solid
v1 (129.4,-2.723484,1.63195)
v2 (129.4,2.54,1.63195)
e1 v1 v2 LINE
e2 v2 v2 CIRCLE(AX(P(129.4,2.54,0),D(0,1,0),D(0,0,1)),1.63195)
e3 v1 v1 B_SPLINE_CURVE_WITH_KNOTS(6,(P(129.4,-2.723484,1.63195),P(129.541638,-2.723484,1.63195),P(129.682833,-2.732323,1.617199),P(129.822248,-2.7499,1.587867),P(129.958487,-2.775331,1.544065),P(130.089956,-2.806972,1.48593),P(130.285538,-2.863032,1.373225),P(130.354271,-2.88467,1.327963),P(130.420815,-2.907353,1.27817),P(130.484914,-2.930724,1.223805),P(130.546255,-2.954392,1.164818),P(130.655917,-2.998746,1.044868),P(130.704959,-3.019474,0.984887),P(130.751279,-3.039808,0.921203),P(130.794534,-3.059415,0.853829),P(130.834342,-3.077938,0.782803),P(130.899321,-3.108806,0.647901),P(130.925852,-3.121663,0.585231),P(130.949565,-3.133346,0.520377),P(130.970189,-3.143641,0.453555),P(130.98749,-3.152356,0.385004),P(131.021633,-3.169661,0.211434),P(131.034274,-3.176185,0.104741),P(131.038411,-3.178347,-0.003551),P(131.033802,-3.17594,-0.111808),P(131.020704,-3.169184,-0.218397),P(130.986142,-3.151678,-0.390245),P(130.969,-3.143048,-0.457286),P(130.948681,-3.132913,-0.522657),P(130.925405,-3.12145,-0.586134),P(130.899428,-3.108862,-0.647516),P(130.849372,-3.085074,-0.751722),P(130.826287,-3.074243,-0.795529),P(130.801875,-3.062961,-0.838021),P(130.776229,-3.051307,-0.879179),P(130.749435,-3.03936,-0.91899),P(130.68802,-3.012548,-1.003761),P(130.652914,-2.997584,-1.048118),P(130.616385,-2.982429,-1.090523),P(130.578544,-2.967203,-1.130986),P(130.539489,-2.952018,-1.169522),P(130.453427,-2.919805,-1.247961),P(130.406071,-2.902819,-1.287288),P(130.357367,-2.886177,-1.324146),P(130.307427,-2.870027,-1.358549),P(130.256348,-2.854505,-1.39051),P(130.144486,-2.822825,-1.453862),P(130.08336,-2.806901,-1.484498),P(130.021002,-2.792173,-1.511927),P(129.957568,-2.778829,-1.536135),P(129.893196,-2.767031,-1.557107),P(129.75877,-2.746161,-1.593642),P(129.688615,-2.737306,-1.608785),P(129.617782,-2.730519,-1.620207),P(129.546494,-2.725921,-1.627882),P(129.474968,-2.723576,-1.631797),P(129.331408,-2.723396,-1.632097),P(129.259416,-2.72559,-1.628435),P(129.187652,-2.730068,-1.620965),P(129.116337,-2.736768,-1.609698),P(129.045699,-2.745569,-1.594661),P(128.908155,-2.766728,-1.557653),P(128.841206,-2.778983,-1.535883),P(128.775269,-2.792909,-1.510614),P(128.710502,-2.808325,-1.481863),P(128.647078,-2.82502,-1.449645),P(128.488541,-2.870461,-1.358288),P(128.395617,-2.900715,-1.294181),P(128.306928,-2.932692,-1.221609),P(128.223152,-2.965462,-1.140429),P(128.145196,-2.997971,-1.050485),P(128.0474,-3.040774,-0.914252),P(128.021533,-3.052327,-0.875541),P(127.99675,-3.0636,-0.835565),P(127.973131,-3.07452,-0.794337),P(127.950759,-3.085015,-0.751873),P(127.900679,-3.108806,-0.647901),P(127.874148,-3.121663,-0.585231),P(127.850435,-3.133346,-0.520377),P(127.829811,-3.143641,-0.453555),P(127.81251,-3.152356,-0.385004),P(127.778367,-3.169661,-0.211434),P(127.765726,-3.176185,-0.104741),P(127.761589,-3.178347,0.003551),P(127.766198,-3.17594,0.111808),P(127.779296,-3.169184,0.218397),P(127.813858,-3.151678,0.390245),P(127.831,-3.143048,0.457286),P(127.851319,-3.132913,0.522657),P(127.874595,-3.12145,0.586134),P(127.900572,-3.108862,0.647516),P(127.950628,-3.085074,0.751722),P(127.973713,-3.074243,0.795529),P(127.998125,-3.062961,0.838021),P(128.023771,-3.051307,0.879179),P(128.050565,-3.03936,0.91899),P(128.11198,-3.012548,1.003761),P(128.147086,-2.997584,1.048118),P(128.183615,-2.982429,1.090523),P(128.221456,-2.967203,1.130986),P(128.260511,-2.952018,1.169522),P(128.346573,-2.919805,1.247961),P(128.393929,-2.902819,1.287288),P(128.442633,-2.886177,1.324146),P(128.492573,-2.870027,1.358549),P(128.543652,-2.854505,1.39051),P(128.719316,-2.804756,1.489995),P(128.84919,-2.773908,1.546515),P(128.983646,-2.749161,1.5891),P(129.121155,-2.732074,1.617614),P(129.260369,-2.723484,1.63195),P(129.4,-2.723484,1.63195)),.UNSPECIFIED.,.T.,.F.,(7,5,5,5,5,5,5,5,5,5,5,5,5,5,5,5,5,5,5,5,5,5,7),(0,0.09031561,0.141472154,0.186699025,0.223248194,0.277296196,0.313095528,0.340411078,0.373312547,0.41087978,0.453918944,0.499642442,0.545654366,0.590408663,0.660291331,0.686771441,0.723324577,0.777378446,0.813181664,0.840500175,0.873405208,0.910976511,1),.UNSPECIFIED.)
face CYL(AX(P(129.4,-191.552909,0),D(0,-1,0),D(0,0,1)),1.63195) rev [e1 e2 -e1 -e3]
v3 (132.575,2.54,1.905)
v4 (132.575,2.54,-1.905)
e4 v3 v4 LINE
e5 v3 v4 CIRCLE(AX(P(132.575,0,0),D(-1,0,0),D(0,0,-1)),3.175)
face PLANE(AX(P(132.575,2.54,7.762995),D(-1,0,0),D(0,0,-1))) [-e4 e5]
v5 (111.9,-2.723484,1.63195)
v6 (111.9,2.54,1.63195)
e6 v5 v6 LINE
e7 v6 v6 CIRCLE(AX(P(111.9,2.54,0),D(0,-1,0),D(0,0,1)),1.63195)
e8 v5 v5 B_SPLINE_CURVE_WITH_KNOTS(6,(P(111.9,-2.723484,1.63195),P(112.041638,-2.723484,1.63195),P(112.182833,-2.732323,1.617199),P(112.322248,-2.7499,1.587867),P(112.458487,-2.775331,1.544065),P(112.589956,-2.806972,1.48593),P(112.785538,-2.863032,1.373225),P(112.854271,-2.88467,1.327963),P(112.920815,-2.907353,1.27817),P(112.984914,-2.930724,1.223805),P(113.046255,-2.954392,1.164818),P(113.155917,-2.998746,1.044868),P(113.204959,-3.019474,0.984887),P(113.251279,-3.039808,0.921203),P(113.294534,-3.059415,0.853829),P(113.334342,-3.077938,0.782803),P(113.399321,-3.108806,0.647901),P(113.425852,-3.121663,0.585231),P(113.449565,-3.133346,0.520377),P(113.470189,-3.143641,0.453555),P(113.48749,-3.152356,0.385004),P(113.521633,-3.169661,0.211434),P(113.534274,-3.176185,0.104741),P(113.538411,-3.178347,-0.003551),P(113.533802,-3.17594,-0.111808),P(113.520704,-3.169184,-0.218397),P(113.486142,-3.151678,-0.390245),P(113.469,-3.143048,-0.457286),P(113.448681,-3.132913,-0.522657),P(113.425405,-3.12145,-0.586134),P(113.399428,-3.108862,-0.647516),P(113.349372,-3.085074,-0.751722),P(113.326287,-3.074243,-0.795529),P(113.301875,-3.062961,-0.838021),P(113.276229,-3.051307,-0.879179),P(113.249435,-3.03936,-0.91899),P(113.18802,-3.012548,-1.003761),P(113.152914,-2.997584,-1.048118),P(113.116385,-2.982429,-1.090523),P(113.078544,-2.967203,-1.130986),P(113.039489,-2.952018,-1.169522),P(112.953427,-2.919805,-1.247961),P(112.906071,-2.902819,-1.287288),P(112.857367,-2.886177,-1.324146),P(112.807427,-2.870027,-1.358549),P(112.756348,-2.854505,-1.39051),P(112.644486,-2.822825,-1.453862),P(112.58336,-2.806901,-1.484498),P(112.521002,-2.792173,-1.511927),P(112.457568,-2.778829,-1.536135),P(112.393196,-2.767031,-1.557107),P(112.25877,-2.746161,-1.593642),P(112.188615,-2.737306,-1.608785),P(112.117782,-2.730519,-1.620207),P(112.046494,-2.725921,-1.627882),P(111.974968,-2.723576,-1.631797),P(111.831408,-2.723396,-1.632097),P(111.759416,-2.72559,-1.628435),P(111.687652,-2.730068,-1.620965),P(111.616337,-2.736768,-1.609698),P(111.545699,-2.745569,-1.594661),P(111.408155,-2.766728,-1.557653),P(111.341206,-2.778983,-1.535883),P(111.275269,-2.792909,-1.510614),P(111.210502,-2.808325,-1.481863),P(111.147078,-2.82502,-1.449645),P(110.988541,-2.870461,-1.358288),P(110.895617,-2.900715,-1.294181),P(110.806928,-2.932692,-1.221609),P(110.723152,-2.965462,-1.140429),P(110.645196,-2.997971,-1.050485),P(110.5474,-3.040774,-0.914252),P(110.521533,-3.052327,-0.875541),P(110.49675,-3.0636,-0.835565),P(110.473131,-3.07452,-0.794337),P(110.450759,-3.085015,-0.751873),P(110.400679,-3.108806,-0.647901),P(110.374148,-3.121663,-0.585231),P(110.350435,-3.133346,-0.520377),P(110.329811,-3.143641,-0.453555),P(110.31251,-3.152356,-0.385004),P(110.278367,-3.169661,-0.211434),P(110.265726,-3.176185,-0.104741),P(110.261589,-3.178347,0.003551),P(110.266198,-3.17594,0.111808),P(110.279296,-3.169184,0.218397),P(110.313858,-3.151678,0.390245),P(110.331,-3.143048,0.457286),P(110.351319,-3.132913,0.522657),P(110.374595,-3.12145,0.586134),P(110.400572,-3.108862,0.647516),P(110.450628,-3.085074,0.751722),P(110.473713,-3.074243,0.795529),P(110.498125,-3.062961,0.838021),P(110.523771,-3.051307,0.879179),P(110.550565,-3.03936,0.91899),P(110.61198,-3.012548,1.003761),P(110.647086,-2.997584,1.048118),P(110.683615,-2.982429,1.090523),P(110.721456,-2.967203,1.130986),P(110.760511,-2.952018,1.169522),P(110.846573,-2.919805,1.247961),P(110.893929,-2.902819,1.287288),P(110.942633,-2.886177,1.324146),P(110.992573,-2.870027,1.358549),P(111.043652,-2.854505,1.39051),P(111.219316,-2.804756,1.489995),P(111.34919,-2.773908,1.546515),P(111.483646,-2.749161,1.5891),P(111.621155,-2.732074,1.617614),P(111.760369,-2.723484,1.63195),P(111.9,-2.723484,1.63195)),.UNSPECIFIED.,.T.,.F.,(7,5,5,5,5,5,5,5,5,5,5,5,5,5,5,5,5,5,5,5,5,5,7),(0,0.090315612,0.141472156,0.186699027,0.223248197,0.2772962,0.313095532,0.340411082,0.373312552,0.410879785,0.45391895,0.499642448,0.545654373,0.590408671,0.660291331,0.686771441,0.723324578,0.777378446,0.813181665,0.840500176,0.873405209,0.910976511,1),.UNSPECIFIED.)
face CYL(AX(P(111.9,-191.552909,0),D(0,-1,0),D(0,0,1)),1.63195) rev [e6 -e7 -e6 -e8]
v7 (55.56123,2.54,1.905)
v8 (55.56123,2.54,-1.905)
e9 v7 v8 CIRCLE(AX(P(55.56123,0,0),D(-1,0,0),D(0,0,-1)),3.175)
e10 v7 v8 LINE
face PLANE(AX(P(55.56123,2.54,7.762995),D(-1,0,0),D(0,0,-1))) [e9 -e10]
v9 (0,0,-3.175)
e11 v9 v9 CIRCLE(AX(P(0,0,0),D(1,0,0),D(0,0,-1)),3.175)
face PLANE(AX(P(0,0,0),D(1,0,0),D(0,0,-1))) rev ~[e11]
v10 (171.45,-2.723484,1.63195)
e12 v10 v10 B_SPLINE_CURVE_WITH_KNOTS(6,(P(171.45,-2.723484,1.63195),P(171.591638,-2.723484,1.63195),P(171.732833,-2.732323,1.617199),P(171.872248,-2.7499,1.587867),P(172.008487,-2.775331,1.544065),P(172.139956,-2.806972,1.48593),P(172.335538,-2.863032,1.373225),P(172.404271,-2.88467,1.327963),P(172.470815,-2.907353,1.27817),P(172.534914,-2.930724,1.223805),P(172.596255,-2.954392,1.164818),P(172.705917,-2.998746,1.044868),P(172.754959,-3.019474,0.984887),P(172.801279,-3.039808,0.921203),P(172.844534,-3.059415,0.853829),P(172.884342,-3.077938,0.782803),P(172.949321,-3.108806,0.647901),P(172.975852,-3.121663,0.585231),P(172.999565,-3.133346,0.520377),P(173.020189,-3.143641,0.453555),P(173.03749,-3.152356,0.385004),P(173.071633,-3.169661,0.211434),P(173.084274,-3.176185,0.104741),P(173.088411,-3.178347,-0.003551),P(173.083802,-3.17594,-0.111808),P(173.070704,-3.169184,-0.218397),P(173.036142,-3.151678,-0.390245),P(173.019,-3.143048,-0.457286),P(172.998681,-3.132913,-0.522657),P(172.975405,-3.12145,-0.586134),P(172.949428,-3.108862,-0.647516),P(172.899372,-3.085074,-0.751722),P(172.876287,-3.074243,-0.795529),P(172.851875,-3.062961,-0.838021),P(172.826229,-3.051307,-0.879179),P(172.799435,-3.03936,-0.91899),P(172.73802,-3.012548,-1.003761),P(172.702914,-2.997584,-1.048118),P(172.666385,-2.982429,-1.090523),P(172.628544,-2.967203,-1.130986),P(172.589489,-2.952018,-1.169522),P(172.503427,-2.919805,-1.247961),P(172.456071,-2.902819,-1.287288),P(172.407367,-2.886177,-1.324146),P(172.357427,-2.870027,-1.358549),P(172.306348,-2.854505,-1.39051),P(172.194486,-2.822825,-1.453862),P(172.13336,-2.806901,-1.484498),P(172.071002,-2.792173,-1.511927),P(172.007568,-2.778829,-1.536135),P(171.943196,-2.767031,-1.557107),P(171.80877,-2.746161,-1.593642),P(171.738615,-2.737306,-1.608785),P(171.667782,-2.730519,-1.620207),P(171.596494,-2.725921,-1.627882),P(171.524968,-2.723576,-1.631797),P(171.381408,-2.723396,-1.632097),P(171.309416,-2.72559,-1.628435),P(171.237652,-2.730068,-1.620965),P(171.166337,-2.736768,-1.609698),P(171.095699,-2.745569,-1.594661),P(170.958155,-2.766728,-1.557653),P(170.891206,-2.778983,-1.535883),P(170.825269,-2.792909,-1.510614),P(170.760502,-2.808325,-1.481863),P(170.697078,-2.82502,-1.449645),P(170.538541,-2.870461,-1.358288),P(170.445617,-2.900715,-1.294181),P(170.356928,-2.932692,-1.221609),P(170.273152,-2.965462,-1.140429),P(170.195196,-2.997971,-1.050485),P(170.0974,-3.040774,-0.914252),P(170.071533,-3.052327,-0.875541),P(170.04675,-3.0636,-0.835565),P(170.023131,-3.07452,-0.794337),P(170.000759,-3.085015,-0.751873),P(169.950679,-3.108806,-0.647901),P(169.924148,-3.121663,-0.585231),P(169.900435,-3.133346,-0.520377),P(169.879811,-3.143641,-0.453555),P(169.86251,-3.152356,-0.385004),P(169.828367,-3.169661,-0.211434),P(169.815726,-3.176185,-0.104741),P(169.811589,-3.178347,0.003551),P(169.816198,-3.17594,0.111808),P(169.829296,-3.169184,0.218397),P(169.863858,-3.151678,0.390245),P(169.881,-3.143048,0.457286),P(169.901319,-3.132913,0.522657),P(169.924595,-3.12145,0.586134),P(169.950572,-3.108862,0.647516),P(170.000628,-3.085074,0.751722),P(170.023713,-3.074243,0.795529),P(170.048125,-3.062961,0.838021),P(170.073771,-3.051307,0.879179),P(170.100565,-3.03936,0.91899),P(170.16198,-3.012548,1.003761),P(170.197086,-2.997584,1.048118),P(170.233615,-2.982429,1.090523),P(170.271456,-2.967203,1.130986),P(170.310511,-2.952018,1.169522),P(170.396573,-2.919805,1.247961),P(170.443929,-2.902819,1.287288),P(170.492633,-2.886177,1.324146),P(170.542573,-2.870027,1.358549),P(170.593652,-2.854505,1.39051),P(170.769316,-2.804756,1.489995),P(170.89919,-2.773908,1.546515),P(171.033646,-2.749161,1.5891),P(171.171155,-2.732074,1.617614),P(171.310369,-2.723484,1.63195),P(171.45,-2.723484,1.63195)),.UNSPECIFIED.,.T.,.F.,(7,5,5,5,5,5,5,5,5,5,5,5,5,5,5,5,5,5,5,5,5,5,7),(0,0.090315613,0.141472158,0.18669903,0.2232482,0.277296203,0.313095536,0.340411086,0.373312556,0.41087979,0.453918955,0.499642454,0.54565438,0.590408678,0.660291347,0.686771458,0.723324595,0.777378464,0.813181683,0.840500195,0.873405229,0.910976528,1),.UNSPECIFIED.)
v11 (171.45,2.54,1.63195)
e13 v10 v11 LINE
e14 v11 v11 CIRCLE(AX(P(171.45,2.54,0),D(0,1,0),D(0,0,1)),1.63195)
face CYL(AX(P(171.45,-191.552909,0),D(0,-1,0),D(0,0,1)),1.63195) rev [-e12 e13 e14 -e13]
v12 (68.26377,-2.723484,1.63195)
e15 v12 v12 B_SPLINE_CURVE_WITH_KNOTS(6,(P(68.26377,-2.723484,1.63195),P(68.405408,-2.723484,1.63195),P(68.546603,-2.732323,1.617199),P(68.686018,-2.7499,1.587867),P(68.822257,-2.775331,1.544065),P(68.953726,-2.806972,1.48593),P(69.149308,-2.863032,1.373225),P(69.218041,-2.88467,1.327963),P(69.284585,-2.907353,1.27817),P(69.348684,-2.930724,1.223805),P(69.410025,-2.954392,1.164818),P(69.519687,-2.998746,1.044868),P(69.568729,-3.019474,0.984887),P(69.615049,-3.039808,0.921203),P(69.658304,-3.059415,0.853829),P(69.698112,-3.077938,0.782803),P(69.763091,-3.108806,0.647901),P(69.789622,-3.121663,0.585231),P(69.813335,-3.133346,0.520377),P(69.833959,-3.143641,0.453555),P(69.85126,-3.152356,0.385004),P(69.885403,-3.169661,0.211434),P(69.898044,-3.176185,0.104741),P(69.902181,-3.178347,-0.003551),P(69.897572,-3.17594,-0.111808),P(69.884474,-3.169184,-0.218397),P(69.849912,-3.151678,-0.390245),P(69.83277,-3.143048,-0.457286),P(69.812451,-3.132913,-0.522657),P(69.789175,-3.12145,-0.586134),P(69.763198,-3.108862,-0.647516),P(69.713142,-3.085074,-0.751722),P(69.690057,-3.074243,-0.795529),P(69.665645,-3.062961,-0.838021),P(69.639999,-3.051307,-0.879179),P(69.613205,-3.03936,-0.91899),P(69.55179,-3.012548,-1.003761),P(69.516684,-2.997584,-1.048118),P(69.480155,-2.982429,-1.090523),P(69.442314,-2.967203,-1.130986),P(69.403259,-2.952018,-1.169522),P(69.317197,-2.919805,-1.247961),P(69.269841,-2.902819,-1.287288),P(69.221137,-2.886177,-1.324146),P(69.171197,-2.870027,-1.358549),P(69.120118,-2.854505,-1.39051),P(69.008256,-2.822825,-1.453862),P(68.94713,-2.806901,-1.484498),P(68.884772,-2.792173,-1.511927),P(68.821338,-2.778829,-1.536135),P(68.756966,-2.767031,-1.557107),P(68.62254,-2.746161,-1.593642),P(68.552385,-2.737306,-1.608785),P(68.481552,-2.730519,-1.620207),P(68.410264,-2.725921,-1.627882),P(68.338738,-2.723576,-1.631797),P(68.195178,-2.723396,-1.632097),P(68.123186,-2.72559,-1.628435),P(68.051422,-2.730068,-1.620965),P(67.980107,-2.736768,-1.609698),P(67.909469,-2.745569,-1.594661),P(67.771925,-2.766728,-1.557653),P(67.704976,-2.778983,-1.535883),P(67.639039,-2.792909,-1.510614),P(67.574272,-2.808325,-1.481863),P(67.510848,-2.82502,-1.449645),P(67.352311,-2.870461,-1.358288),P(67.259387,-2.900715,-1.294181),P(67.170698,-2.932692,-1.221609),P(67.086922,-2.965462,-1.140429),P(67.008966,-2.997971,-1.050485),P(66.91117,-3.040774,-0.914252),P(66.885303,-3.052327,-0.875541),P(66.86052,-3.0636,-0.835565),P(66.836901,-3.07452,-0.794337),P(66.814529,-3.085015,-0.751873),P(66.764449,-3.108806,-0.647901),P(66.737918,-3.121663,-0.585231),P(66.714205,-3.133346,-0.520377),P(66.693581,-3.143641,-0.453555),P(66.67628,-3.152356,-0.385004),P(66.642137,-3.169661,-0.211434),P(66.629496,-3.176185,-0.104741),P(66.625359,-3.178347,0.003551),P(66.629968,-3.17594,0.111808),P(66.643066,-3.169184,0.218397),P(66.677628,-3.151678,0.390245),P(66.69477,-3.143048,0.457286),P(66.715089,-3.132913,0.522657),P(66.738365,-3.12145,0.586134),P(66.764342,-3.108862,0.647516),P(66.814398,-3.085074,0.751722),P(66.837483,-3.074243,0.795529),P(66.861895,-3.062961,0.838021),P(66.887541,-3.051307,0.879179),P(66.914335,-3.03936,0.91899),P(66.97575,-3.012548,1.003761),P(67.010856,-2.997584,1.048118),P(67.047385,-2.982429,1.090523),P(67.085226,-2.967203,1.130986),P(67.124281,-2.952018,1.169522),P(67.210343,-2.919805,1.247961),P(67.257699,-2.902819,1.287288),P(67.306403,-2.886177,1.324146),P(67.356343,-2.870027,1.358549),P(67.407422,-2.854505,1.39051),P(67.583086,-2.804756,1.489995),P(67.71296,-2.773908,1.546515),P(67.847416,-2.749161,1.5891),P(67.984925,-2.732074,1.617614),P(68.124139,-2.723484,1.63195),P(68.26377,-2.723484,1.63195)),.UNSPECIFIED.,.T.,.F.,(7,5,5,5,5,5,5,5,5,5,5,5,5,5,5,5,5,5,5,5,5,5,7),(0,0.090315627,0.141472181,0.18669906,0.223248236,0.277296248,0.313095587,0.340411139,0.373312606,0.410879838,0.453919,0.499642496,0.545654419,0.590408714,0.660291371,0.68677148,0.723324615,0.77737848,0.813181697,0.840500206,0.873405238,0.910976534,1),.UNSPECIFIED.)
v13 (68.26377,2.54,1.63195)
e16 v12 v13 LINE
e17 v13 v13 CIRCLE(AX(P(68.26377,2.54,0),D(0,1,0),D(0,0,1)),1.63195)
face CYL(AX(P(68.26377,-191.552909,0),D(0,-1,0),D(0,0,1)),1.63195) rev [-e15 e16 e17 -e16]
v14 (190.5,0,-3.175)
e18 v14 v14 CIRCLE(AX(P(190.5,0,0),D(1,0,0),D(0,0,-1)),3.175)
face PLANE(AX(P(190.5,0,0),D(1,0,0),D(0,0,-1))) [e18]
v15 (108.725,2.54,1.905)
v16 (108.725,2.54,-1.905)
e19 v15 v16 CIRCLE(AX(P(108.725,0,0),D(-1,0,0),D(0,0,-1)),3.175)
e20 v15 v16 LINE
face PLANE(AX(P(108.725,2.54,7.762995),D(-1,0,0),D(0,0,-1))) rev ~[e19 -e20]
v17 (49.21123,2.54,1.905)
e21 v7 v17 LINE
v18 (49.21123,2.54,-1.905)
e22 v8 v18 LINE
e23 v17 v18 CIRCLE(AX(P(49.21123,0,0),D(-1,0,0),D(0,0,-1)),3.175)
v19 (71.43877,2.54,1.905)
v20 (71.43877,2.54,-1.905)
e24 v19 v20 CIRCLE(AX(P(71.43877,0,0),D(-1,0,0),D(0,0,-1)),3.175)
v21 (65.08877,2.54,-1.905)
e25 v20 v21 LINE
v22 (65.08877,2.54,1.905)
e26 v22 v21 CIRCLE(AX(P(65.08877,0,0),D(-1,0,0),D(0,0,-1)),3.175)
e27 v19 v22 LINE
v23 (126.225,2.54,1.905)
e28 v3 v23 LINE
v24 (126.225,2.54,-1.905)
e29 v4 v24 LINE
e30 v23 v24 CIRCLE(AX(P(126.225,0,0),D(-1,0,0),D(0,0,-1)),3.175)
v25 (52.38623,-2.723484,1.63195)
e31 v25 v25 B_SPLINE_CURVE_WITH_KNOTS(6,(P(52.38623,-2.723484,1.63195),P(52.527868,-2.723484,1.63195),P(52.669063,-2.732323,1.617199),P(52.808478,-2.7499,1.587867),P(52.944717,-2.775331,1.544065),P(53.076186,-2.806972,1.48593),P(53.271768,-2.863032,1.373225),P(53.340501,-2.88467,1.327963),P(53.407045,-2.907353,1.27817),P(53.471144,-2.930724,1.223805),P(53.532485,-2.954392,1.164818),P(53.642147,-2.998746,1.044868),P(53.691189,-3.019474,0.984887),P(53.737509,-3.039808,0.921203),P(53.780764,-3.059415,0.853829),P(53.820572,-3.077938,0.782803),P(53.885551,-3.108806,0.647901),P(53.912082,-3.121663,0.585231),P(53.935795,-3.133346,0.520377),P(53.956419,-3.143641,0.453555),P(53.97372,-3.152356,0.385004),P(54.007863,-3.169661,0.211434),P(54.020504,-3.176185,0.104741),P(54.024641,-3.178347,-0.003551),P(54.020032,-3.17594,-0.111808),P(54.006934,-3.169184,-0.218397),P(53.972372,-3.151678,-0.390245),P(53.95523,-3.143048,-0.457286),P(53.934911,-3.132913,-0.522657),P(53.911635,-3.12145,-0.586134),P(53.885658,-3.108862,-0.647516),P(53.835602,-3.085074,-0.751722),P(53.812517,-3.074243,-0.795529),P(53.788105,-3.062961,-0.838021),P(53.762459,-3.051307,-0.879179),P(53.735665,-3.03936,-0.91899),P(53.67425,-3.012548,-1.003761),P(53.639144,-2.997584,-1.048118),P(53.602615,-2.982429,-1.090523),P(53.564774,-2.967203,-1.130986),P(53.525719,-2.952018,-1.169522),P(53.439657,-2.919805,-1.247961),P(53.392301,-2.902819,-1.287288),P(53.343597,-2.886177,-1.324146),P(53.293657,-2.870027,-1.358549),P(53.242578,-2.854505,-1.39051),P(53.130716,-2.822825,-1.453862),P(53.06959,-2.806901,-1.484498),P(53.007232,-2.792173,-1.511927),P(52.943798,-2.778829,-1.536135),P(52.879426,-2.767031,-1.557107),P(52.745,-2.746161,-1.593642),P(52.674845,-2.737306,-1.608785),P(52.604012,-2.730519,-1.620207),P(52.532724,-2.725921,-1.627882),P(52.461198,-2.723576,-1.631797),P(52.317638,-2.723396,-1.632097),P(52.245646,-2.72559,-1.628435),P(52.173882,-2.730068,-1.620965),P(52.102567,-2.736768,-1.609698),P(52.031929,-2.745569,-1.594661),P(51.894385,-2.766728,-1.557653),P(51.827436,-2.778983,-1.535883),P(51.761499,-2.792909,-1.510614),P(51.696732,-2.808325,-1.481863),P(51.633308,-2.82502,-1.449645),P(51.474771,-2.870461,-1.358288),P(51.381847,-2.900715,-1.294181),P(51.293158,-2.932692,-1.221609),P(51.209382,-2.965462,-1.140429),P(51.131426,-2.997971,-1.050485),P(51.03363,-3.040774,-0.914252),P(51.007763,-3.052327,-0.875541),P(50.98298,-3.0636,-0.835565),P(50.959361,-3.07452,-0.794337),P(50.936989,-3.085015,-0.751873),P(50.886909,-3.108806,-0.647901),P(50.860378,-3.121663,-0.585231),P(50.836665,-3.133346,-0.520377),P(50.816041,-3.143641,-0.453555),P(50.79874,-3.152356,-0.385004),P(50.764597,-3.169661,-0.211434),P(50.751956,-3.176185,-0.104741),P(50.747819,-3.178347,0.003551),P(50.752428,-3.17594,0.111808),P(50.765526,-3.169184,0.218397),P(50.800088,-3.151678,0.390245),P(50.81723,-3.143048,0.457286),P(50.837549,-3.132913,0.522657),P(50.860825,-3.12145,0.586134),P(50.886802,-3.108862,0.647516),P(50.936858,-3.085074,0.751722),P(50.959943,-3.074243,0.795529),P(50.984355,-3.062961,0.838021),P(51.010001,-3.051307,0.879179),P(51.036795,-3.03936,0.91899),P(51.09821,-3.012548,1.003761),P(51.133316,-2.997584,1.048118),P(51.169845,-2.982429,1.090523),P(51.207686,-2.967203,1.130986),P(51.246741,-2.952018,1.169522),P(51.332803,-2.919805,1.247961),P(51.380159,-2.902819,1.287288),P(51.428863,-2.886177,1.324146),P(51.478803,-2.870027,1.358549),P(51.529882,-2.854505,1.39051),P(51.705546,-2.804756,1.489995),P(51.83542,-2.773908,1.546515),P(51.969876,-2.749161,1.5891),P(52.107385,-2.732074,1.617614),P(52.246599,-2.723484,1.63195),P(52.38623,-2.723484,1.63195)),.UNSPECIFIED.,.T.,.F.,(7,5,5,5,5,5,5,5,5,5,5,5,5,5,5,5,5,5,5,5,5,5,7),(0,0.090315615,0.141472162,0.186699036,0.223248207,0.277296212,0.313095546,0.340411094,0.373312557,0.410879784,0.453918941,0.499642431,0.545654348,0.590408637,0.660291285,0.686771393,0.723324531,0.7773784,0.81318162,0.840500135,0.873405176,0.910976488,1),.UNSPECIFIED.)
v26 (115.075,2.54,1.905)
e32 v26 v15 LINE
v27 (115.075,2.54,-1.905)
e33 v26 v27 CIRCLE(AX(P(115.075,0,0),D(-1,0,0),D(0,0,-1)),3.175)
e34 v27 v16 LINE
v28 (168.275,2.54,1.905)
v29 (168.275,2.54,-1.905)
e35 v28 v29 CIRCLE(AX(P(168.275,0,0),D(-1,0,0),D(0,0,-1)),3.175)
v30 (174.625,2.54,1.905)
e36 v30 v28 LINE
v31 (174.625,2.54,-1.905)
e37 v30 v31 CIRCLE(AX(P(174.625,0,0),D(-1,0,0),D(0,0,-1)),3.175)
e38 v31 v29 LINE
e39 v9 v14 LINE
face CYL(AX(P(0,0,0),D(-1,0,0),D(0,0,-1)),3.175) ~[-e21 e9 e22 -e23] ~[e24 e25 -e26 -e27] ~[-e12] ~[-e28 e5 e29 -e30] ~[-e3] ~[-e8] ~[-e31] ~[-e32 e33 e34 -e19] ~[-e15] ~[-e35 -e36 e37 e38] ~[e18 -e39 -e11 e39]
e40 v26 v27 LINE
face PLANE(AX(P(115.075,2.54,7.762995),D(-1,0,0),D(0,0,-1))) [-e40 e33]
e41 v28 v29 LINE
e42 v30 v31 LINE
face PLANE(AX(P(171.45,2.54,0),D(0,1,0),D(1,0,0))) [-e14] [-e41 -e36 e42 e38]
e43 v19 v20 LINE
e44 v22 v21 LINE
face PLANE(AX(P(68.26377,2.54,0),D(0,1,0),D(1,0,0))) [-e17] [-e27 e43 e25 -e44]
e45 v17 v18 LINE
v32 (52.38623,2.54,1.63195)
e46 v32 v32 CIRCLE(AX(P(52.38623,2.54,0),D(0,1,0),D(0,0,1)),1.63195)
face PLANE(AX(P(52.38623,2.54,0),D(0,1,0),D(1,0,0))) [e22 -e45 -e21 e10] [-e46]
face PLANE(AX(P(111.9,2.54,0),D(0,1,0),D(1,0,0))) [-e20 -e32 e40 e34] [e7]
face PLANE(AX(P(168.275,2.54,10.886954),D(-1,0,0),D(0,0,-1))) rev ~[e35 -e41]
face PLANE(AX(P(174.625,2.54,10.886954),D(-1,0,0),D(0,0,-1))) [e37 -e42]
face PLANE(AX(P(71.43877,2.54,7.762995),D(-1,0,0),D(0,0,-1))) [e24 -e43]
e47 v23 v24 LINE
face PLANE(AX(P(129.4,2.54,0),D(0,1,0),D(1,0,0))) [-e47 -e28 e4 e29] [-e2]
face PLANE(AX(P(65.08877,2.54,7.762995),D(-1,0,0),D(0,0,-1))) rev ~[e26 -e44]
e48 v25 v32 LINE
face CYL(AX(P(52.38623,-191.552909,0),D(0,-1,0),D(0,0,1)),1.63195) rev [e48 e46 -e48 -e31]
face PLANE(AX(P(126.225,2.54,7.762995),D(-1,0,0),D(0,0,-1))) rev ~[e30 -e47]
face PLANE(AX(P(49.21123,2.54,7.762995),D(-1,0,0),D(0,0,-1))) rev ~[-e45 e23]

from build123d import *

# Parameters (mm, degrees)
SKETCH1_R               = 3.175
BOSS_EXTRUDE1_DEPTH     = 190.5
CUT_EXTRUDE1_DEPTH      = 191.552909319
CUT_EXTRUDE1_DEPTH_BACK = 191.552909319
SKETCH2_R               = 1.63195
CUT_EXTRUDE2_START      = 2.54
SKETCH2_3_W             = 6.35
SKETCH2_3_H             = 15.5259893
SKETCH2_3_R             = 1.63195
SKETCH2_3_H_2           = 21.77390706
CUT_EXTRUDE2_DEPTH      = 189.012909422


with BuildPart() as part:
    # Sketch1 → Boss-Extrude1 (new body)
    with BuildSketch(Plane(origin=(0, 0, 0), x_dir=(0, 0, -1), z_dir=(1, 0, 0))):
        Circle(SKETCH1_R)
    extrude(amount=BOSS_EXTRUDE1_DEPTH)

    # Sketch2 → Cut-Extrude1 (cut, two sides: drawn at the far end of the back side and taken through both)
    with BuildSketch(Plane(origin=(0, 0, 0), x_dir=(1, 0, 0), z_dir=(0, 1, 0)).offset(-CUT_EXTRUDE1_DEPTH_BACK)):
        with Locations((171.45, 0)):
            Circle(SKETCH2_R)
        with Locations((52.38623, 0)):
            Circle(SKETCH2_R)
        with Locations((111.9, 0)):
            Circle(SKETCH2_R)
        with Locations((68.26377, 0)):
            Circle(SKETCH2_R)
        with Locations((129.4, 0)):
            Circle(SKETCH2_R)
    extrude(amount=CUT_EXTRUDE1_DEPTH + CUT_EXTRUDE1_DEPTH_BACK, mode=Mode.SUBTRACT)

    # Sketch2<3> → Cut-Extrude2 (cut, through all)
    # profile 1 of 5: a face of its own
    with BuildSketch(Plane(origin=(0, 0, 0), x_dir=(1, 0, 0), z_dir=(0, 1, 0)).offset(CUT_EXTRUDE2_START)):
        with Locations((68.26377, 0)):
            Rectangle(SKETCH2_3_W, SKETCH2_3_H)
        with Locations((68.26377, 0)):
            Circle(SKETCH2_3_R, mode=Mode.SUBTRACT)
    # profile 2 of 5: a face of its own
    with BuildSketch(Plane(origin=(0, 0, 0), x_dir=(1, 0, 0), z_dir=(0, 1, 0)).offset(CUT_EXTRUDE2_START)):
        with Locations((52.38623, 0)):
            Rectangle(SKETCH2_3_W, SKETCH2_3_H)
        with Locations((52.38623, 0)):
            Circle(SKETCH2_3_R, mode=Mode.SUBTRACT)
    # profile 3 of 5: a face of its own
    with BuildSketch(Plane(origin=(0, 0, 0), x_dir=(1, 0, 0), z_dir=(0, 1, 0)).offset(CUT_EXTRUDE2_START)):
        with Locations((111.9, 0)):
            Rectangle(SKETCH2_3_W, SKETCH2_3_H)
    # profile 4 of 5: a face of its own
    with BuildSketch(Plane(origin=(0, 0, 0), x_dir=(1, 0, 0), z_dir=(0, 1, 0)).offset(CUT_EXTRUDE2_START)):
        with Locations((171.45, 0)):
            Rectangle(SKETCH2_3_W, SKETCH2_3_H_2)
        with Locations((171.45, 0)):
            Circle(SKETCH2_3_R, mode=Mode.SUBTRACT)
    # profile 5 of 5: a face of its own
    with BuildSketch(Plane(origin=(0, 0, 0), x_dir=(1, 0, 0), z_dir=(0, 1, 0)).offset(CUT_EXTRUDE2_START)):
        with Locations((129.4, 0)):
            Rectangle(SKETCH2_3_W, SKETCH2_3_H)
        with Locations((129.4, 0)):
            Circle(SKETCH2_3_R, mode=Mode.SUBTRACT)
    extrude(amount=CUT_EXTRUDE2_DEPTH, mode=Mode.SUBTRACT)


solid = part.part
